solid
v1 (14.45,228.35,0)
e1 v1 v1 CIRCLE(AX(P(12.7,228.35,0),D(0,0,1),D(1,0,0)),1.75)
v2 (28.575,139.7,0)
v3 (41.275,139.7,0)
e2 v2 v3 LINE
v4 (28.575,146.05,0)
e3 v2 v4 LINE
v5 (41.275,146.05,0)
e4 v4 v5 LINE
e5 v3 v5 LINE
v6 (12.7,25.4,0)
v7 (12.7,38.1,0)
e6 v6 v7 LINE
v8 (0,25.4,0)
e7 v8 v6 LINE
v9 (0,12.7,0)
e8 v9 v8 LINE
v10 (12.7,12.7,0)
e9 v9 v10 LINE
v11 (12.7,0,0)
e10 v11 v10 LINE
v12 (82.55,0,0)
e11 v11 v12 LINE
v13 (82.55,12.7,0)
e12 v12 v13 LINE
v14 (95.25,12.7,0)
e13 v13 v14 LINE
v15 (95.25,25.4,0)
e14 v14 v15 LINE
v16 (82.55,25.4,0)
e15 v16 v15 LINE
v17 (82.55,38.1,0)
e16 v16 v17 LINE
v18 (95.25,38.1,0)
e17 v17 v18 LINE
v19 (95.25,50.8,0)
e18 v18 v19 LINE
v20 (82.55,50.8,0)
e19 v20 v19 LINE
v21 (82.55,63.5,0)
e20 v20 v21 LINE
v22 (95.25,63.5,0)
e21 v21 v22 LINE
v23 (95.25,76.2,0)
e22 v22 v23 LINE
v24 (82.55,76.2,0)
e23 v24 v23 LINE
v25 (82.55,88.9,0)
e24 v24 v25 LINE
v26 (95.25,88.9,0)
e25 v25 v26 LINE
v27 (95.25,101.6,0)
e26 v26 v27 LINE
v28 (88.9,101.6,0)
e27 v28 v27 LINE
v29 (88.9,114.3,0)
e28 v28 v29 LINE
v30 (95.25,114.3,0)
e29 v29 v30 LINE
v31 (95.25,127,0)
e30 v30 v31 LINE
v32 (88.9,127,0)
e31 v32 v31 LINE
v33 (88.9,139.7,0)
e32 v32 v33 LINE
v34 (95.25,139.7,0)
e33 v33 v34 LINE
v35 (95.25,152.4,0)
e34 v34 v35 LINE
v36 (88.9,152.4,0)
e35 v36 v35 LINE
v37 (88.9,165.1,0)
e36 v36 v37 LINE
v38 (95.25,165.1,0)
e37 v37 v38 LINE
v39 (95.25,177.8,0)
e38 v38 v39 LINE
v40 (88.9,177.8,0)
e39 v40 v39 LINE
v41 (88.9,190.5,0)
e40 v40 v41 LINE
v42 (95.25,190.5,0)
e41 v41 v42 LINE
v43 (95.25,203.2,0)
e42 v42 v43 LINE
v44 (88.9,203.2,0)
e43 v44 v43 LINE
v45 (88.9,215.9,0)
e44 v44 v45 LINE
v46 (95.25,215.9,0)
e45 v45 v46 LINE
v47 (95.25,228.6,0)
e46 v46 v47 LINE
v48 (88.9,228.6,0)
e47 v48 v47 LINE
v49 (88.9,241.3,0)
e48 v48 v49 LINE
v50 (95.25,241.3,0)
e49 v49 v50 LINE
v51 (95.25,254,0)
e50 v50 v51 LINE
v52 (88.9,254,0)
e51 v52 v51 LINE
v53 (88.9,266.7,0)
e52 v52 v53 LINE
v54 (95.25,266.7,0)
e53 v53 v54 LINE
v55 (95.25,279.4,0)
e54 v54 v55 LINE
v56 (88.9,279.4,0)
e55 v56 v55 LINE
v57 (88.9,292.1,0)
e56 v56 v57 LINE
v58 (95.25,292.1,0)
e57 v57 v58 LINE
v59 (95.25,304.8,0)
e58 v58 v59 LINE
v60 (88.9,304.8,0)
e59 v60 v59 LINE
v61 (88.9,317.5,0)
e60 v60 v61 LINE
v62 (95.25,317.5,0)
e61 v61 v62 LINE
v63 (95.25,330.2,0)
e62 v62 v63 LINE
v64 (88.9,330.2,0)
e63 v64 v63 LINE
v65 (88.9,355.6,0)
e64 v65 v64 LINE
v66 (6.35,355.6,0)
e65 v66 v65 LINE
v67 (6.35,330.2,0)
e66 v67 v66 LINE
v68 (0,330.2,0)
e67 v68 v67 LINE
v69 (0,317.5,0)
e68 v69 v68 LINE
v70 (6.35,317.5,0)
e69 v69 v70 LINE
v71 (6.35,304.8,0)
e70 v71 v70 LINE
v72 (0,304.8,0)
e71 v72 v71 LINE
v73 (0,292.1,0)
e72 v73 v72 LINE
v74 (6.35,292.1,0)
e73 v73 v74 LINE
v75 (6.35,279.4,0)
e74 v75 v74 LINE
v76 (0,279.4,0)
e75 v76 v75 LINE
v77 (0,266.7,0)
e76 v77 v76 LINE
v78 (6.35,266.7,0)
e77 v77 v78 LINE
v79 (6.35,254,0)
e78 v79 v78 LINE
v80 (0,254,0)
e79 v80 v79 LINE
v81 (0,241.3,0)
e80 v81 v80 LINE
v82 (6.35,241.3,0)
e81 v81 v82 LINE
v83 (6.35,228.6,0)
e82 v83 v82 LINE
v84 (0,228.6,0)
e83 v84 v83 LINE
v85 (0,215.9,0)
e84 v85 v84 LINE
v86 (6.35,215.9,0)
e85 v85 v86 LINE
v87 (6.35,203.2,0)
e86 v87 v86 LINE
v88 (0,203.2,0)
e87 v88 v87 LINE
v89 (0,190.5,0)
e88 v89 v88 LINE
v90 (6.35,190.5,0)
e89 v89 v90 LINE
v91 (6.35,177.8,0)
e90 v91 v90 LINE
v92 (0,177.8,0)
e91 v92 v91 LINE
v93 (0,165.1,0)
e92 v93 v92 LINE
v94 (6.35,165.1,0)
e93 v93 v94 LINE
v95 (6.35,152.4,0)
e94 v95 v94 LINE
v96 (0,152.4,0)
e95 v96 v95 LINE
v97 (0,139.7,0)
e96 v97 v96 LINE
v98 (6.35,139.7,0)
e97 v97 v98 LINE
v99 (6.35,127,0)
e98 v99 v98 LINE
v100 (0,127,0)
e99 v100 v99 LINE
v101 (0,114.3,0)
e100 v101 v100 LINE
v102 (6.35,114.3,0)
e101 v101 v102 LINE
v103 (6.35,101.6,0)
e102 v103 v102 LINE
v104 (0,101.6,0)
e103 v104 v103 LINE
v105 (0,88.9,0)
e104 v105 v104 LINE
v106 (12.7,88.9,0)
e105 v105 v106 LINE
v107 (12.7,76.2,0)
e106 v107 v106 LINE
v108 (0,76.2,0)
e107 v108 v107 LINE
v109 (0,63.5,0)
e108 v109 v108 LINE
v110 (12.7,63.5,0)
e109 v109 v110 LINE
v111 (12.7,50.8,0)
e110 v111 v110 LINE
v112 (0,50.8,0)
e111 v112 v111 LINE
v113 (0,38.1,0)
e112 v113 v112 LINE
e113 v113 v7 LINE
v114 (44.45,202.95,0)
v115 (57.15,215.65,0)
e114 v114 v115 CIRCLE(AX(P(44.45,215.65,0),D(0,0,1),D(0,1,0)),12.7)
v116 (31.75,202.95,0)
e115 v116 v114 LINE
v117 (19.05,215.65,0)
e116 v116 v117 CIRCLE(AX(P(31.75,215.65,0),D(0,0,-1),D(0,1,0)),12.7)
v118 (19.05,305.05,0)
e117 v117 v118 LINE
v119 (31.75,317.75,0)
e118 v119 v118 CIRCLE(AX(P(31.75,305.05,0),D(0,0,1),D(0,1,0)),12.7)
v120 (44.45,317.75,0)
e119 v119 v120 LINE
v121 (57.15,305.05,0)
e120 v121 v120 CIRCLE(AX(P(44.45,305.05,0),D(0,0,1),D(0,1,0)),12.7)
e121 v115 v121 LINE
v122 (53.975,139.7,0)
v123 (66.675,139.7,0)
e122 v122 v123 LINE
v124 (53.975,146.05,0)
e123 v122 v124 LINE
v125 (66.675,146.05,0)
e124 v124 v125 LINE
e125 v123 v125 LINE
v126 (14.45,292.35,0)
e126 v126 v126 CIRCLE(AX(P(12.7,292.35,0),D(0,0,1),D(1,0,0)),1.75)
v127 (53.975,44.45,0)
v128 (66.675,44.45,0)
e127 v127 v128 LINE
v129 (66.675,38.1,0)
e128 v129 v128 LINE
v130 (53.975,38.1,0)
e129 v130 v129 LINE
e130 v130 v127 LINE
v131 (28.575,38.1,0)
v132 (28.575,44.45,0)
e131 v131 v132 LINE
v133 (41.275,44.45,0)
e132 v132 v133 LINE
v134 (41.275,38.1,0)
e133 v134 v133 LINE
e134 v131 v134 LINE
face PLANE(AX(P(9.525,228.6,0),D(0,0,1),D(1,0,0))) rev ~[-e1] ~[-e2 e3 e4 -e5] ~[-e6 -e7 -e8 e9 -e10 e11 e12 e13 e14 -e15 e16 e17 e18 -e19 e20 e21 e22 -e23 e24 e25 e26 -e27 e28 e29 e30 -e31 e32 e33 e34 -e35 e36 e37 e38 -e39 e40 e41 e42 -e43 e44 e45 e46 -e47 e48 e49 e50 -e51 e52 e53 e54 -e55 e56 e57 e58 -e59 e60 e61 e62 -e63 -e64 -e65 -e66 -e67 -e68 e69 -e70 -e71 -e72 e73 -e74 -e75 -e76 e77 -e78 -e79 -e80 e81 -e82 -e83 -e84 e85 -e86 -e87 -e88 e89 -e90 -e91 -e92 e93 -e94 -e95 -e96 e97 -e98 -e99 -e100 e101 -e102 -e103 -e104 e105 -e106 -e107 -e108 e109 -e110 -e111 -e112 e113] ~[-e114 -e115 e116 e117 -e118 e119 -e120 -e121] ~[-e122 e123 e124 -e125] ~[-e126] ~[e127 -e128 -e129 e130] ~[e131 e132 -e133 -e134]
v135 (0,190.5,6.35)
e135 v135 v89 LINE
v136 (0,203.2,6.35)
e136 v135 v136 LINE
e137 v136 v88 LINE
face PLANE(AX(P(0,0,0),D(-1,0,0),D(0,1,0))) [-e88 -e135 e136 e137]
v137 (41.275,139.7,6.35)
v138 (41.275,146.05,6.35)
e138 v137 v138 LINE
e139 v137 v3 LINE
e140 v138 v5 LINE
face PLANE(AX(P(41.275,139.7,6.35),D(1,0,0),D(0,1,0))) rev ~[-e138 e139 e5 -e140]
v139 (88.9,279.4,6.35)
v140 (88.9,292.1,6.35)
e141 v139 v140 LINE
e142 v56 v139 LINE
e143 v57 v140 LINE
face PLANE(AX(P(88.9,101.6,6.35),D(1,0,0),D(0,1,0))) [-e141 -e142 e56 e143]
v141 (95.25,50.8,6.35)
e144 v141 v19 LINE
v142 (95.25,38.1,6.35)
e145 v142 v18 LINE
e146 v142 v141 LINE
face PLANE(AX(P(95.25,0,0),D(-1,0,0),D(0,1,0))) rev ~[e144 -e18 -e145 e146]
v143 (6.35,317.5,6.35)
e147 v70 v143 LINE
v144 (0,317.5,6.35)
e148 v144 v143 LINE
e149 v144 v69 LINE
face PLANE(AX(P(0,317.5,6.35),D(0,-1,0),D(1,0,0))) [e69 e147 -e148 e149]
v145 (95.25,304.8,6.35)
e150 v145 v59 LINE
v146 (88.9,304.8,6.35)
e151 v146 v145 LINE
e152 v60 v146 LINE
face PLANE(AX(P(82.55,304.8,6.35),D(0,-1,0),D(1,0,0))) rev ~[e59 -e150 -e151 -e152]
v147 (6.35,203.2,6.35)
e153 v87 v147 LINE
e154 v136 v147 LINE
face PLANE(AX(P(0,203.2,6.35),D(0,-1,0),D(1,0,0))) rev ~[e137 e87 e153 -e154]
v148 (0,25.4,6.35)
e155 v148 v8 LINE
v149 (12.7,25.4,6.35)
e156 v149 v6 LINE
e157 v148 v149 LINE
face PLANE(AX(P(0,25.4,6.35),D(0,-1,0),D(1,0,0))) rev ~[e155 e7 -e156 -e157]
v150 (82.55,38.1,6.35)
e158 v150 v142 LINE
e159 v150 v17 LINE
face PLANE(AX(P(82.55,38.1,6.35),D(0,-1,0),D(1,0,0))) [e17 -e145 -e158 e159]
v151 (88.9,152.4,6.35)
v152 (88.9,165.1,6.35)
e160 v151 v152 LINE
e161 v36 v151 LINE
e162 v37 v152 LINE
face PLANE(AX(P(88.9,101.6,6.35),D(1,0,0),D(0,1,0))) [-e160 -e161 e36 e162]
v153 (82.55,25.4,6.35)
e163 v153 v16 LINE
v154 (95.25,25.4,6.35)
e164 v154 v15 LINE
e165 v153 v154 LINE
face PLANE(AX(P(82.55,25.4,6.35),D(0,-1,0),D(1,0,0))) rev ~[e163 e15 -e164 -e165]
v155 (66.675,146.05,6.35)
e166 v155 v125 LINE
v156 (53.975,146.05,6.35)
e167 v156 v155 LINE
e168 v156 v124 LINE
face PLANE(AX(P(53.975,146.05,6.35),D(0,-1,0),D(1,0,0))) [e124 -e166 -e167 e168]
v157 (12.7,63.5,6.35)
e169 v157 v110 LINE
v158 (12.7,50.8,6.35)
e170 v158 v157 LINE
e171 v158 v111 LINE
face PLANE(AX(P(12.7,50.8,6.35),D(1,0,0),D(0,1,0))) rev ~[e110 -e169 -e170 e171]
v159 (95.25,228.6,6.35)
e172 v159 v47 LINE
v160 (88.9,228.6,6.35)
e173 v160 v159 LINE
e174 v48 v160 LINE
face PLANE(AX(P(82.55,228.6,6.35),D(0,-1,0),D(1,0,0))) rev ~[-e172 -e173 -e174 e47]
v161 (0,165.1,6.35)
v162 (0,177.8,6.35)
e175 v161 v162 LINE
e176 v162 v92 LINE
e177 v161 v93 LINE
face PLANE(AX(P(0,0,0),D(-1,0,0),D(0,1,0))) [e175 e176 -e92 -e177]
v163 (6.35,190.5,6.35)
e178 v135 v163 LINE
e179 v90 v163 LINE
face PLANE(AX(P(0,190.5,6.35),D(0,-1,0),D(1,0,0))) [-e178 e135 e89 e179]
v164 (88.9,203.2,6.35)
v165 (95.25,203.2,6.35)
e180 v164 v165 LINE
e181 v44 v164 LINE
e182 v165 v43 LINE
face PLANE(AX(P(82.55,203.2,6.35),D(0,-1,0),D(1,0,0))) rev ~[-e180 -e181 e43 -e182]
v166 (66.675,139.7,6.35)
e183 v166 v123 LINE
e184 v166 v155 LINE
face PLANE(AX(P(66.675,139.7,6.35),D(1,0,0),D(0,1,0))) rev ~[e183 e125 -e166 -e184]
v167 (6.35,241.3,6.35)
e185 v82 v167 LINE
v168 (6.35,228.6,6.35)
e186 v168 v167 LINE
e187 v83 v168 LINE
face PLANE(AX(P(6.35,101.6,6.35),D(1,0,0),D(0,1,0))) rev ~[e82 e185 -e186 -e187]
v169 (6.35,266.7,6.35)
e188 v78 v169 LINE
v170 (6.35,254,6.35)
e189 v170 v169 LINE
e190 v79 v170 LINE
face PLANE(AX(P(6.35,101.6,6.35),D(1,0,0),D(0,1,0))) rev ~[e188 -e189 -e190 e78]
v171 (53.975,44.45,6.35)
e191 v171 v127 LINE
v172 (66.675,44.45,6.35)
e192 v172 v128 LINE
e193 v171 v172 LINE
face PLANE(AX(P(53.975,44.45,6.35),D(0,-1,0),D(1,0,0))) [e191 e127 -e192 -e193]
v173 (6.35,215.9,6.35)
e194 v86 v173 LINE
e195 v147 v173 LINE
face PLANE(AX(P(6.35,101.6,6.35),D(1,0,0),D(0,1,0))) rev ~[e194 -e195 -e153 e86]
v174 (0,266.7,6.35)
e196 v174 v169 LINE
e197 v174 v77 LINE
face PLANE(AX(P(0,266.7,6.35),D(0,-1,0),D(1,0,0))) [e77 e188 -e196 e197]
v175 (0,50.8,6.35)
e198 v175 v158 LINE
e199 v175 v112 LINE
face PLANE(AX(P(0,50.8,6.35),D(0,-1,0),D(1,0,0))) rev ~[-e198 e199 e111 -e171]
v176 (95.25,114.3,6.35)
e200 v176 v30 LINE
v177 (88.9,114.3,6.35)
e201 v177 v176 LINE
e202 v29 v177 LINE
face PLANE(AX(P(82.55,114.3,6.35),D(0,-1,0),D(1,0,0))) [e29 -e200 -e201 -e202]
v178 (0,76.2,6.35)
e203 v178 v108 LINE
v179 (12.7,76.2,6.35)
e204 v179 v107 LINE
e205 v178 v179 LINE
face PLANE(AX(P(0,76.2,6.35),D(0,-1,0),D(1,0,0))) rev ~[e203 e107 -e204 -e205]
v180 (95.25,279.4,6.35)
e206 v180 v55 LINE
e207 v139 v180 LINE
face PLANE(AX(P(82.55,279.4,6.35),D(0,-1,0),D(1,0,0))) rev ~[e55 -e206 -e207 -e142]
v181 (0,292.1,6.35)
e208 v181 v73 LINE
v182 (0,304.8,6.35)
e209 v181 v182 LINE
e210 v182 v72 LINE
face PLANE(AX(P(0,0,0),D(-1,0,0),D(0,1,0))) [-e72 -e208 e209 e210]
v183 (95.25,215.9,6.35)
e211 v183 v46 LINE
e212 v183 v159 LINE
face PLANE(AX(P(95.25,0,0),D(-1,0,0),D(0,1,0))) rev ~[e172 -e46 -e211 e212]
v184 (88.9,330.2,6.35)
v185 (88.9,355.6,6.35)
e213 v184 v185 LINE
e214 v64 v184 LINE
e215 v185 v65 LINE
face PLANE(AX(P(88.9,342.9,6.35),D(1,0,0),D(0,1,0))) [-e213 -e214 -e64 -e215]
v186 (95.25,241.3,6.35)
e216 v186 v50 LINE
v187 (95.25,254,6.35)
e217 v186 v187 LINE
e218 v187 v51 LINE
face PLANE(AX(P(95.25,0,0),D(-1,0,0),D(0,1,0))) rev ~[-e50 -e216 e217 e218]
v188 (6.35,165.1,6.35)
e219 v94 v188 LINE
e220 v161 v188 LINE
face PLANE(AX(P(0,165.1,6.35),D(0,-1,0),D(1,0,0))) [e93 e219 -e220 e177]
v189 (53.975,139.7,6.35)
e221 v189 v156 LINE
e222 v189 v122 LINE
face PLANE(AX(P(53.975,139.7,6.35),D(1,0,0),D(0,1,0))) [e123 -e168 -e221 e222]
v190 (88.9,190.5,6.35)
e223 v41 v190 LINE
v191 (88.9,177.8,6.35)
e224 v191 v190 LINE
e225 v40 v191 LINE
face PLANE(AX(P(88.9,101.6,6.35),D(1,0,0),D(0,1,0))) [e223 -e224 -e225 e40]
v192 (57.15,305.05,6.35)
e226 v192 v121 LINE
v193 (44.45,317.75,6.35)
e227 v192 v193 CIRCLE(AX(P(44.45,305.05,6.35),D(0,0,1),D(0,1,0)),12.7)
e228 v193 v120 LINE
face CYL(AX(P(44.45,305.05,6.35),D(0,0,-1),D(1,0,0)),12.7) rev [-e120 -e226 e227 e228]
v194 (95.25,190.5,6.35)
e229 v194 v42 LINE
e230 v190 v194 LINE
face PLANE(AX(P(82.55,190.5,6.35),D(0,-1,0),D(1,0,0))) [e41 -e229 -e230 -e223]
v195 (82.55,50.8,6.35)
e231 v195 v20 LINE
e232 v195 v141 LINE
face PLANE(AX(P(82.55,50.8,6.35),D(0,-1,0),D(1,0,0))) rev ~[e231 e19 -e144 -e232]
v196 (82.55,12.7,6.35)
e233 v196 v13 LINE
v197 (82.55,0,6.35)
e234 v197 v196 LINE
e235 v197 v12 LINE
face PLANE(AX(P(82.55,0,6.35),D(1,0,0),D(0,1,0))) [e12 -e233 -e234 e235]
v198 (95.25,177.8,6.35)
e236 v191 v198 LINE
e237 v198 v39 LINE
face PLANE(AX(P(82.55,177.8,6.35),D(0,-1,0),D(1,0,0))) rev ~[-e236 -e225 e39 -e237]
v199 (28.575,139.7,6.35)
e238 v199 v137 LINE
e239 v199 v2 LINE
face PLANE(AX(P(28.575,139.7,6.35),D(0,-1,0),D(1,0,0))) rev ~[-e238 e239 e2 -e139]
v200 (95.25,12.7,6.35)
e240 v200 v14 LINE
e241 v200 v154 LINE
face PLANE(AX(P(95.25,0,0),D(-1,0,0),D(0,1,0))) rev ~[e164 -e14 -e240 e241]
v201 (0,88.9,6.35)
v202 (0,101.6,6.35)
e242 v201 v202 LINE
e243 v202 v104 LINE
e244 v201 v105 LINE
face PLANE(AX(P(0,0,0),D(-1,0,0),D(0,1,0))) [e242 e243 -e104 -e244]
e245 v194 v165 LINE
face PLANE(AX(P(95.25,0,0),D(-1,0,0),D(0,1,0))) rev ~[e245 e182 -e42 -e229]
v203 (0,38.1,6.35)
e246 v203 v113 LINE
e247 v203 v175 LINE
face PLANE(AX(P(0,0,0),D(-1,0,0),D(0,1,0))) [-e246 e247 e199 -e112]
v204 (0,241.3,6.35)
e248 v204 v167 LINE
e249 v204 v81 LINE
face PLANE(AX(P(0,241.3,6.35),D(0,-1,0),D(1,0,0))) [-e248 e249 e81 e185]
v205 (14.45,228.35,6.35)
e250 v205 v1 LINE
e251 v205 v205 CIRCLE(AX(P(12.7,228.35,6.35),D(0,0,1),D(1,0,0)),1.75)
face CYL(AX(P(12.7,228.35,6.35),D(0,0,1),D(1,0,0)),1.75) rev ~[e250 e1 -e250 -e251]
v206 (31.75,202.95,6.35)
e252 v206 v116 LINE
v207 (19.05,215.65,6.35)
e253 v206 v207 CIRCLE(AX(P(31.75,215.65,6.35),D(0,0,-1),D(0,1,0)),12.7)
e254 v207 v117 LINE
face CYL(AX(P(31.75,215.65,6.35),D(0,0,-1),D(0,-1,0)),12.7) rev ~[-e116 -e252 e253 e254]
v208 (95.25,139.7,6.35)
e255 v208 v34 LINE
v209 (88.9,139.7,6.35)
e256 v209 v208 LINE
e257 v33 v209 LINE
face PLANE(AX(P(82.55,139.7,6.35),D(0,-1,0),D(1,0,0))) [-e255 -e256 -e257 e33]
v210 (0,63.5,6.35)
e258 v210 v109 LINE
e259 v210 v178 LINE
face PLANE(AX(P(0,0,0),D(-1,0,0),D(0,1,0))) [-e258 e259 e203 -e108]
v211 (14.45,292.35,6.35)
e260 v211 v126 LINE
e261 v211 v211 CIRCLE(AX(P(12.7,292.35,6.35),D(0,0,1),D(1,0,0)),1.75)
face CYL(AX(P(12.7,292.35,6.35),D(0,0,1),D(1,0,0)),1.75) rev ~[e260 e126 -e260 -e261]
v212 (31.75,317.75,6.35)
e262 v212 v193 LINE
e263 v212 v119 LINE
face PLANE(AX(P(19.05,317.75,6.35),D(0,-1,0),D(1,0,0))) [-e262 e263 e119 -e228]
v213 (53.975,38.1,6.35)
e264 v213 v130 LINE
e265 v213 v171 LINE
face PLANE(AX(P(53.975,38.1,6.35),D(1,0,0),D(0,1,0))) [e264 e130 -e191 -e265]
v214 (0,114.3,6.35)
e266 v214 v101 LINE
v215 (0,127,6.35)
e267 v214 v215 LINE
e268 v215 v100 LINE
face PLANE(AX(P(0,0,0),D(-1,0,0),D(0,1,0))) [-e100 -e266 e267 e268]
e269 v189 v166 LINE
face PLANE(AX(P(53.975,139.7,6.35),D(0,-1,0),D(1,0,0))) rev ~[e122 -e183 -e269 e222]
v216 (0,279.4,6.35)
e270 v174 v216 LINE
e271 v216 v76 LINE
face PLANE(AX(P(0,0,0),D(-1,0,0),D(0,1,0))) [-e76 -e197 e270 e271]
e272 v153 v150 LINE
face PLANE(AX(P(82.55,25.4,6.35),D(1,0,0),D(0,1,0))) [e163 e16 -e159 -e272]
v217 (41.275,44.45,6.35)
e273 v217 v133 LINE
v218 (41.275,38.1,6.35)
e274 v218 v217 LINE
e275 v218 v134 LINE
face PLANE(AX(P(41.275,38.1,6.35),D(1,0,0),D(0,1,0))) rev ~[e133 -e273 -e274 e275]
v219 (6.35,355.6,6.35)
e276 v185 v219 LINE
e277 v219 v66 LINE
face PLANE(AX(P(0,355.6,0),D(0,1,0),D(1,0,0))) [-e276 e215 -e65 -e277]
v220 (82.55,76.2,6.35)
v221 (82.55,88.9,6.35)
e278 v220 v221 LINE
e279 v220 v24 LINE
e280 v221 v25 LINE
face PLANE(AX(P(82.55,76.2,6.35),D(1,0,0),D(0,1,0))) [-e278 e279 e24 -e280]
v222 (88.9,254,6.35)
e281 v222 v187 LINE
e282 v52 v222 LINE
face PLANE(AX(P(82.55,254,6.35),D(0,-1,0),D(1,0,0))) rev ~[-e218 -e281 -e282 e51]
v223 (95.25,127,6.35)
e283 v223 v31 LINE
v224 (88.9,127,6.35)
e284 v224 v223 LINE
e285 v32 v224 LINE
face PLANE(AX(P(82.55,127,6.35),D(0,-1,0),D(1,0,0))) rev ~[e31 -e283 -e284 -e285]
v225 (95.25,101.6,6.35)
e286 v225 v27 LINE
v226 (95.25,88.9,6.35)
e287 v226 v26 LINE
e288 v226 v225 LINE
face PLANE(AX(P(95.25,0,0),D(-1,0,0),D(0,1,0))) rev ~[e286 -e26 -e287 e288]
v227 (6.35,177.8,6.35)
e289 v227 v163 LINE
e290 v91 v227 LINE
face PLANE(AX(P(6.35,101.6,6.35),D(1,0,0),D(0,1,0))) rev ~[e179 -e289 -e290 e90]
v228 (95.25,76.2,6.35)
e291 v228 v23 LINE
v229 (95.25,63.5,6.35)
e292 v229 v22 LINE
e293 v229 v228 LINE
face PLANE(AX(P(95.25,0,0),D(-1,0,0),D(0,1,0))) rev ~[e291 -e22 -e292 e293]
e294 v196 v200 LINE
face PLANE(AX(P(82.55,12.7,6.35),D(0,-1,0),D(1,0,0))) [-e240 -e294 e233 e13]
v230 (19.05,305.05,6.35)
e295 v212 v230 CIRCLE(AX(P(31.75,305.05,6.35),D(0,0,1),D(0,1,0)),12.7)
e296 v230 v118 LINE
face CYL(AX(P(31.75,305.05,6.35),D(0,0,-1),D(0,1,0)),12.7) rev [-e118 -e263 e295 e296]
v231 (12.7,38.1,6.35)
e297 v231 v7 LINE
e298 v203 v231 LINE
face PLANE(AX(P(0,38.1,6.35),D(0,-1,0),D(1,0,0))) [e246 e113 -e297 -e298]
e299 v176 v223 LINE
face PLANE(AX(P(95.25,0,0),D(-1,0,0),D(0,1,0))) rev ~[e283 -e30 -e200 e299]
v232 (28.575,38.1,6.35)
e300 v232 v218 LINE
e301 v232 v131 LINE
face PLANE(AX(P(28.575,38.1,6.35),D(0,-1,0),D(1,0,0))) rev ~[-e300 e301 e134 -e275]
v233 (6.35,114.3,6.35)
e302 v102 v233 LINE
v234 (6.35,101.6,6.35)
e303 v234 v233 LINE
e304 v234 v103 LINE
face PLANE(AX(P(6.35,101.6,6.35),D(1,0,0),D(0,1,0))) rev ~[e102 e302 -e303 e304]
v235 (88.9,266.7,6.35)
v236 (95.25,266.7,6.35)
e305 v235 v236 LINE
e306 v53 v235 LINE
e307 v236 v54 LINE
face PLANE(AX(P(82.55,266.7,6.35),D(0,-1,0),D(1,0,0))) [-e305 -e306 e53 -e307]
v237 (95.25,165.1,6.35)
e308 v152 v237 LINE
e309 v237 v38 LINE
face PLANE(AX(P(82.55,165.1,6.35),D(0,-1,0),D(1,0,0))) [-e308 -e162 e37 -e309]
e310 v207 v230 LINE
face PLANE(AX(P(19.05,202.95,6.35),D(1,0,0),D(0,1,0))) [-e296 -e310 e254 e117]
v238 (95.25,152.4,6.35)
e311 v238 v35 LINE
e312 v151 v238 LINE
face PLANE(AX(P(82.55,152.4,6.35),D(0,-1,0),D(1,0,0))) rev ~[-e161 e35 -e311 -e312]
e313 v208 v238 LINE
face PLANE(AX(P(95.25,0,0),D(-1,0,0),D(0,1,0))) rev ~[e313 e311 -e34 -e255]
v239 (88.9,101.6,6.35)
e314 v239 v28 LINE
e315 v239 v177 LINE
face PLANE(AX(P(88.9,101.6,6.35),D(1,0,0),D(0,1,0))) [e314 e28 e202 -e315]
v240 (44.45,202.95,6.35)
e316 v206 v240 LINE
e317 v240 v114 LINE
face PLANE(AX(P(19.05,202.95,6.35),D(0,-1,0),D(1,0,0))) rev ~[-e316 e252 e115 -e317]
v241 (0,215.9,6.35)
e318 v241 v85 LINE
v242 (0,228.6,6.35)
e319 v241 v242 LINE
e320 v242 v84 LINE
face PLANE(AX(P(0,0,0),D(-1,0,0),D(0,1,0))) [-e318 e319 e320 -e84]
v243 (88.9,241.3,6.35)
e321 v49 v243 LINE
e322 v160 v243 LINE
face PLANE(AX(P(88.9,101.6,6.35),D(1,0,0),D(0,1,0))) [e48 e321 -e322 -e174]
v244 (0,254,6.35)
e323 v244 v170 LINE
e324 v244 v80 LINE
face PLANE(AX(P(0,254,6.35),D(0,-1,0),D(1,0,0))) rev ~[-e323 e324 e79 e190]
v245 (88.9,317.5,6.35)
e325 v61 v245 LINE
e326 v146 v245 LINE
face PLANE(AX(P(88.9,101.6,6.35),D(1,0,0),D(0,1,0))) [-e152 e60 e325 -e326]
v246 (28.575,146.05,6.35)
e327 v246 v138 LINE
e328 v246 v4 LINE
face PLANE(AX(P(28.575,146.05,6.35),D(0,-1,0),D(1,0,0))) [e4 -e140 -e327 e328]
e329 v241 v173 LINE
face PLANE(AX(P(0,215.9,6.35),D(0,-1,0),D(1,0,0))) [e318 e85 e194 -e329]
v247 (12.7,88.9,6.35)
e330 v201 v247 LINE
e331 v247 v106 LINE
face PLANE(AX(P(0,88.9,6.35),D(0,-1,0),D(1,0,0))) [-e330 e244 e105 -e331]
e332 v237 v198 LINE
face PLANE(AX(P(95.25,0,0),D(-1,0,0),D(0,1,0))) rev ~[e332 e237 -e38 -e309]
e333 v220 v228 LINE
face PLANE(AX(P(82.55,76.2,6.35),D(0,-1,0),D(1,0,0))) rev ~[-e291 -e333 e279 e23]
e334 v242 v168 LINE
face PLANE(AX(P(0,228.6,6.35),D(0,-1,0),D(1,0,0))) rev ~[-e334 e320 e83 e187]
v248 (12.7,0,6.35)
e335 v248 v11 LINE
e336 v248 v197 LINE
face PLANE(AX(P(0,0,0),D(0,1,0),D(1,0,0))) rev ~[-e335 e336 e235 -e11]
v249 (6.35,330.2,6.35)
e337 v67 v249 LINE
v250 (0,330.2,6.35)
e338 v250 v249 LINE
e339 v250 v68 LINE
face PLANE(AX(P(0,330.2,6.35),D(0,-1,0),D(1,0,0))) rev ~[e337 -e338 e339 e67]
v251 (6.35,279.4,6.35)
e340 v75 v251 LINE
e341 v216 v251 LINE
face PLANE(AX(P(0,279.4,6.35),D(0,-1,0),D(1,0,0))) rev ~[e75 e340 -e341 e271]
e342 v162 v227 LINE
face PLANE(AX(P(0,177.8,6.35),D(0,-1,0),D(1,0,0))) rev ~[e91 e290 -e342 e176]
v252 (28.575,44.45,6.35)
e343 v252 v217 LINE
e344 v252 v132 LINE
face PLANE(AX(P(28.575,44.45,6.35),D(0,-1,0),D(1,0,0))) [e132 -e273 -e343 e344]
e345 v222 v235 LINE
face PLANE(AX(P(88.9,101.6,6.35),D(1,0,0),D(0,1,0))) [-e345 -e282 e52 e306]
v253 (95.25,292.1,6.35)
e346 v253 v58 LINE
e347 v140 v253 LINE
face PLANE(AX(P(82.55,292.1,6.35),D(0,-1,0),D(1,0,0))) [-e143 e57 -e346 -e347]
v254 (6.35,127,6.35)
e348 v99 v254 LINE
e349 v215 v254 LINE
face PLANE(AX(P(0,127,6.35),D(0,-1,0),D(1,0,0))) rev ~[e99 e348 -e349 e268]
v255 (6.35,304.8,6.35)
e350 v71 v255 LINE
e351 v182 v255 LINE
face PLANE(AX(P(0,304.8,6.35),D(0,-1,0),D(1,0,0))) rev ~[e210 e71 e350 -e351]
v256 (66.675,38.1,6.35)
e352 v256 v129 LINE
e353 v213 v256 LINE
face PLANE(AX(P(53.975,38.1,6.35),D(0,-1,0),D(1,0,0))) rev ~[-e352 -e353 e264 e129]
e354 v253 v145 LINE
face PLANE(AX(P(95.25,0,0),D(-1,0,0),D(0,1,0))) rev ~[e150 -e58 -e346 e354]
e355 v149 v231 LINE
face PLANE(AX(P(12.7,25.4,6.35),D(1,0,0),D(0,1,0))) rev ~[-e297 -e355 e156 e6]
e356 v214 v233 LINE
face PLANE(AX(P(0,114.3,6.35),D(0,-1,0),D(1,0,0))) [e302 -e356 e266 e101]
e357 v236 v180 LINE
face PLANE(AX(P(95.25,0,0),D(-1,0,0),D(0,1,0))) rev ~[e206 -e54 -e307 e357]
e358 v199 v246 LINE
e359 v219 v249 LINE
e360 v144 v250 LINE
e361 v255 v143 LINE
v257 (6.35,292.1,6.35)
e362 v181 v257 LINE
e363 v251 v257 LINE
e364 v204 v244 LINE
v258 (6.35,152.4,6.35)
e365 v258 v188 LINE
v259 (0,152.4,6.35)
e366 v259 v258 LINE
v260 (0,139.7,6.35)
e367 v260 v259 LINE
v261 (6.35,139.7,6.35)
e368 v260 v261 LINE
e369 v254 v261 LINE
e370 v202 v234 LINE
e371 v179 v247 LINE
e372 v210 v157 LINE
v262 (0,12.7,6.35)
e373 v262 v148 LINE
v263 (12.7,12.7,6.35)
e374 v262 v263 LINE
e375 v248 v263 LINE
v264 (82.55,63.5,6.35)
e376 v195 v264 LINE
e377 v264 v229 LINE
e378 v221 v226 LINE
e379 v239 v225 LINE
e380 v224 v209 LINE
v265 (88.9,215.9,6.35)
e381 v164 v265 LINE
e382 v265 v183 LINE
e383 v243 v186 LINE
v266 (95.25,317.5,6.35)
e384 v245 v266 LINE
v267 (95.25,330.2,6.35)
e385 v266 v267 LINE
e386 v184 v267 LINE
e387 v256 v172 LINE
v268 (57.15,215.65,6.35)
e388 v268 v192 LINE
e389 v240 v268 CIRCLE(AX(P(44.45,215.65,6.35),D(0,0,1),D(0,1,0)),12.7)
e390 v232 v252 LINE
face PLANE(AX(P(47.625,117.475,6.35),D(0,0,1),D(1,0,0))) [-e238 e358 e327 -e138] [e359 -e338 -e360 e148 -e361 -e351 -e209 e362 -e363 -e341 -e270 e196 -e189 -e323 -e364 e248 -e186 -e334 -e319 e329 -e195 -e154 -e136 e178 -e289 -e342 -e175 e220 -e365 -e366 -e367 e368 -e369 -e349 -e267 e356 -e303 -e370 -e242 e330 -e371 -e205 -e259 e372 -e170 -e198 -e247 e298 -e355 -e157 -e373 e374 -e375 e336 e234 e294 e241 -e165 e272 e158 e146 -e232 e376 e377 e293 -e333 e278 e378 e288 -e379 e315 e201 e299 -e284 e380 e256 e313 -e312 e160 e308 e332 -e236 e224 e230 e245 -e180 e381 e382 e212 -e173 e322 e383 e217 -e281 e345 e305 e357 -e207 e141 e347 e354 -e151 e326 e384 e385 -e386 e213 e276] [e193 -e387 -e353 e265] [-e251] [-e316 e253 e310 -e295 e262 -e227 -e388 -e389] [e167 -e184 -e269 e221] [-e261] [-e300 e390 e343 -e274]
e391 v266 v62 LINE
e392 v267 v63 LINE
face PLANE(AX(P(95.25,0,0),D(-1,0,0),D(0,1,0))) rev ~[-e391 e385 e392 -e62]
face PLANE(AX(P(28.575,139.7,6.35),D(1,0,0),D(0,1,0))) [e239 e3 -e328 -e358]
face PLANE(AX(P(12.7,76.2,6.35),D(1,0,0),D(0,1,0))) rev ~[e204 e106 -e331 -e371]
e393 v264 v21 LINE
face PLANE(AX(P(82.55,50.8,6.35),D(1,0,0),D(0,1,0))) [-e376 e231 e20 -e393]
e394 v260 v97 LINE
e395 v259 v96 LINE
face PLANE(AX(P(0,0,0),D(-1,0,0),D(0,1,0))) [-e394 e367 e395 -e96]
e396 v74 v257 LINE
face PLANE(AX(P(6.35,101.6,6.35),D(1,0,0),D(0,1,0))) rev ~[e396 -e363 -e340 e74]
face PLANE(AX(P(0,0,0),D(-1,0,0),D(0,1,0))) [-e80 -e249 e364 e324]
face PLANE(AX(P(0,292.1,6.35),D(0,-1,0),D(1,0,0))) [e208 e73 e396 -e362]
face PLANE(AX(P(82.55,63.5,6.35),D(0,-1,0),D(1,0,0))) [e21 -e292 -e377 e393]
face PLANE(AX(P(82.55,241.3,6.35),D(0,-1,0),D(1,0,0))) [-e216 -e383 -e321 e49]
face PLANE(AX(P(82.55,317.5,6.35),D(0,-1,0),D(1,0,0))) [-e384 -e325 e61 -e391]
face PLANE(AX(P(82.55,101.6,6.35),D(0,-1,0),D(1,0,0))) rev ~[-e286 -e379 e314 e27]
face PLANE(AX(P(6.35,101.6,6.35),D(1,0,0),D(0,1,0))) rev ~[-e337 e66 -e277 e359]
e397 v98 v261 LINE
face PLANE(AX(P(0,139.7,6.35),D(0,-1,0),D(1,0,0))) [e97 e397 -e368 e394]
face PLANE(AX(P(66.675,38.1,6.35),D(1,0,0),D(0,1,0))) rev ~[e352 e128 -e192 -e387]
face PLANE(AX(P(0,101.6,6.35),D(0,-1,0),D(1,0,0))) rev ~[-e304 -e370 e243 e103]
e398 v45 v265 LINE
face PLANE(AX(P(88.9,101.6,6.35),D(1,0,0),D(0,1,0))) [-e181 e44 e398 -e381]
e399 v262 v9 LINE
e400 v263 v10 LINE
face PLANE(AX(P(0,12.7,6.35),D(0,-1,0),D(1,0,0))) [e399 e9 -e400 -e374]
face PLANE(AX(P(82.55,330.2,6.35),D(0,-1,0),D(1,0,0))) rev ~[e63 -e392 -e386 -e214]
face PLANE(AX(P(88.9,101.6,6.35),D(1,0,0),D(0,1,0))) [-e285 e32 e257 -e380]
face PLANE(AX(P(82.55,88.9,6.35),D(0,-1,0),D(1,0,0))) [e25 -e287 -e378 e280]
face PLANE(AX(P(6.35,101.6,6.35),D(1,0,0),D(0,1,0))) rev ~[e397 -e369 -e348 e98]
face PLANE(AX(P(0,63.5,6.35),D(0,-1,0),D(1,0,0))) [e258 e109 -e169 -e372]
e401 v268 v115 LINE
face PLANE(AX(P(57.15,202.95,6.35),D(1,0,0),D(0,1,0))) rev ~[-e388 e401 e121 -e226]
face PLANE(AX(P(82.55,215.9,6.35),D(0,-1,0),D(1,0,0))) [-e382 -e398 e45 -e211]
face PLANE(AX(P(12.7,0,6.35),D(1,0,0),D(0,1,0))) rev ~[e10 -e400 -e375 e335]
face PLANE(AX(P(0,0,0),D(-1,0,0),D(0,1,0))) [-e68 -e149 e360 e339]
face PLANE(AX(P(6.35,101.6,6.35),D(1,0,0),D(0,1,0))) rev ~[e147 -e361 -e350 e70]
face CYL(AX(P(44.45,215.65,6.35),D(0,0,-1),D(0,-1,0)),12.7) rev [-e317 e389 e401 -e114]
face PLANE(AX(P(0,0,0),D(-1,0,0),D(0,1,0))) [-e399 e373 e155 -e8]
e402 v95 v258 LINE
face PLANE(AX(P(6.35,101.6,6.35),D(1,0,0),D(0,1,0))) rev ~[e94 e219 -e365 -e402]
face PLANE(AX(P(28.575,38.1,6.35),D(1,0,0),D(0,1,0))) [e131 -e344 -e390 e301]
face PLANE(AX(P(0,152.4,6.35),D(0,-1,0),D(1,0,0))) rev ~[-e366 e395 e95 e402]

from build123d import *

# Parameters (mm, degrees)
SKETCH1_W           = 95.25
SKETCH1_H           = 355.6
BOSS_EXTRUDE1_DEPTH = 6.35
SKETCH2_W           = 12.7
SKETCH2_H           = 12.7
CUT_EXTRUDE1_DEPTH  = 7.35
LPATTERN1_COUNT     = 16
LPATTERN1_PITCH     = 25.4
SKETCH3_W           = 12.7
SKETCH3_H           = 6.35
CUT_EXTRUDE2_DEPTH  = 7.35
LPATTERN4_COUNT     = 2
LPATTERN4_PITCH     = 76.2
SKETCH5_W           = 6.35
SKETCH5_H           = 254
BOSS_EXTRUDE2_DEPTH = 6.35
SKETCH6_W           = 6.35
SKETCH6_H           = 12.7
CUT_EXTRUDE3_DEPTH  = 7.35
SKETCH7_W           = 38.1
SKETCH7_H           = 6.35
BOSS_EXTRUDE4_DEPTH = 6.35
SKETCH8_W           = 12.7
SKETCH8_H           = 6.35
CUT_EXTRUDE4_DEPTH  = 7.35
SKETCH9_R           = 1.75
CUT_EXTRUDE5_DEPTH  = 7.35
SKETCH10_W          = 38.1
SKETCH10_H          = 114.8
CUT_EXTRUDE6_DEPTH  = 7.35
FILLET1_R           = 12.7


with BuildPart() as part:
    # Sketch1 → Boss-Extrude1 (new body)
    with BuildSketch(Plane.XY):
        with Locations((47.625, 177.8)):
            Rectangle(SKETCH1_W, SKETCH1_H)
    extrude(amount=BOSS_EXTRUDE1_DEPTH)

    # Sketch2 → Cut-Extrude1 (cut, through all)
    with BuildSketch(Plane.XY.offset(6.35)):
        with Locations((6.35, 6.35)):
            Rectangle(SKETCH2_W, SKETCH2_H)
        with Locations((88.9, 6.35)):
            Rectangle(SKETCH2_W, SKETCH2_H)
    cut_extrude1 = extrude(amount=-CUT_EXTRUDE1_DEPTH, mode=Mode.SUBTRACT)

    # LPattern1: Cut-Extrude1 ×16
    with Locations(*[(0, i * LPATTERN1_PITCH, 0) for i in range(1, LPATTERN1_COUNT)]):
        add(cut_extrude1, mode=Mode.SUBTRACT)

    # Sketch3 → Cut-Extrude2 (cut, through all)
    with BuildSketch(Plane.XY.offset(6.35)):
        with Locations((34.925, 41.275)):
            Rectangle(SKETCH3_W, SKETCH3_H)
        with Locations((60.325, 41.275)):
            Rectangle(SKETCH3_W, SKETCH3_H)
    cut_extrude2 = extrude(amount=-CUT_EXTRUDE2_DEPTH, mode=Mode.SUBTRACT)

    # LPattern4: Cut-Extrude2 ×2
    with Locations(*[(0, i * LPATTERN4_PITCH, 0) for i in range(1, LPATTERN4_COUNT)]):
        add(cut_extrude2, mode=Mode.SUBTRACT)

    # Sketch5 → Boss-Extrude2 (add, through all)
    with BuildSketch(Plane.XY.offset(6.35)):
        with Locations((9.525, 228.6)):
            Rectangle(SKETCH5_W, SKETCH5_H)
        with Locations((85.725, 228.6)):
            Rectangle(SKETCH5_W, SKETCH5_H)
    extrude(amount=-BOSS_EXTRUDE2_DEPTH)

    # Sketch6 → Cut-Extrude3 (cut, through all)
    with BuildSketch(Plane.XY.offset(6.35)):
        with Locations((3.175, 349.25)):
            Rectangle(SKETCH6_W, SKETCH6_H)
        with Locations((92.075, 349.25)):
            Rectangle(SKETCH6_W, SKETCH6_H)
    extrude(amount=-CUT_EXTRUDE3_DEPTH, mode=Mode.SUBTRACT)

    # Sketch7 → Boss-Extrude4 (add, through all)
    with BuildSketch(Plane.XY.offset(6.35)):
        with Locations((47.625, 117.475)):
            Rectangle(SKETCH7_W, SKETCH7_H)
    extrude(amount=-BOSS_EXTRUDE4_DEPTH)

    # Sketch8 → Cut-Extrude4 (cut, through all)
    with BuildSketch(Plane.XY.offset(6.35)):
        with Locations((34.925, 142.875)):
            Rectangle(SKETCH8_W, SKETCH8_H)
        with Locations((60.325, 142.875)):
            Rectangle(SKETCH8_W, SKETCH8_H)
    extrude(amount=-CUT_EXTRUDE4_DEPTH, mode=Mode.SUBTRACT)

    # Sketch9 → Cut-Extrude5 (cut, through all)
    with BuildSketch(Plane.XY.offset(6.35)):
        with Locations((12.7, 292.35)):
            Circle(SKETCH9_R)
        with Locations((12.7, 228.35)):
            Circle(SKETCH9_R)
    extrude(amount=-CUT_EXTRUDE5_DEPTH, mode=Mode.SUBTRACT)

    # Sketch10 → Cut-Extrude6 (cut, through all)
    with BuildSketch(Plane.XY.offset(6.35)):
        with Locations((38.1, 260.35)):
            Rectangle(SKETCH10_W, SKETCH10_H)
    extrude(amount=-CUT_EXTRUDE6_DEPTH, mode=Mode.SUBTRACT)

    # Fillet1
    fillet1_edges = [part.edges().sort_by_distance(p)[0] for p in [
        (19.05, 202.95, 3.175),
        (19.05, 317.75, 3.175),
        (57.15, 317.75, 3.175),
        (57.15, 202.95, 3.175),
    ]]
    fillet(fillet1_edges, radius=FILLET1_R)


solid = part.part
